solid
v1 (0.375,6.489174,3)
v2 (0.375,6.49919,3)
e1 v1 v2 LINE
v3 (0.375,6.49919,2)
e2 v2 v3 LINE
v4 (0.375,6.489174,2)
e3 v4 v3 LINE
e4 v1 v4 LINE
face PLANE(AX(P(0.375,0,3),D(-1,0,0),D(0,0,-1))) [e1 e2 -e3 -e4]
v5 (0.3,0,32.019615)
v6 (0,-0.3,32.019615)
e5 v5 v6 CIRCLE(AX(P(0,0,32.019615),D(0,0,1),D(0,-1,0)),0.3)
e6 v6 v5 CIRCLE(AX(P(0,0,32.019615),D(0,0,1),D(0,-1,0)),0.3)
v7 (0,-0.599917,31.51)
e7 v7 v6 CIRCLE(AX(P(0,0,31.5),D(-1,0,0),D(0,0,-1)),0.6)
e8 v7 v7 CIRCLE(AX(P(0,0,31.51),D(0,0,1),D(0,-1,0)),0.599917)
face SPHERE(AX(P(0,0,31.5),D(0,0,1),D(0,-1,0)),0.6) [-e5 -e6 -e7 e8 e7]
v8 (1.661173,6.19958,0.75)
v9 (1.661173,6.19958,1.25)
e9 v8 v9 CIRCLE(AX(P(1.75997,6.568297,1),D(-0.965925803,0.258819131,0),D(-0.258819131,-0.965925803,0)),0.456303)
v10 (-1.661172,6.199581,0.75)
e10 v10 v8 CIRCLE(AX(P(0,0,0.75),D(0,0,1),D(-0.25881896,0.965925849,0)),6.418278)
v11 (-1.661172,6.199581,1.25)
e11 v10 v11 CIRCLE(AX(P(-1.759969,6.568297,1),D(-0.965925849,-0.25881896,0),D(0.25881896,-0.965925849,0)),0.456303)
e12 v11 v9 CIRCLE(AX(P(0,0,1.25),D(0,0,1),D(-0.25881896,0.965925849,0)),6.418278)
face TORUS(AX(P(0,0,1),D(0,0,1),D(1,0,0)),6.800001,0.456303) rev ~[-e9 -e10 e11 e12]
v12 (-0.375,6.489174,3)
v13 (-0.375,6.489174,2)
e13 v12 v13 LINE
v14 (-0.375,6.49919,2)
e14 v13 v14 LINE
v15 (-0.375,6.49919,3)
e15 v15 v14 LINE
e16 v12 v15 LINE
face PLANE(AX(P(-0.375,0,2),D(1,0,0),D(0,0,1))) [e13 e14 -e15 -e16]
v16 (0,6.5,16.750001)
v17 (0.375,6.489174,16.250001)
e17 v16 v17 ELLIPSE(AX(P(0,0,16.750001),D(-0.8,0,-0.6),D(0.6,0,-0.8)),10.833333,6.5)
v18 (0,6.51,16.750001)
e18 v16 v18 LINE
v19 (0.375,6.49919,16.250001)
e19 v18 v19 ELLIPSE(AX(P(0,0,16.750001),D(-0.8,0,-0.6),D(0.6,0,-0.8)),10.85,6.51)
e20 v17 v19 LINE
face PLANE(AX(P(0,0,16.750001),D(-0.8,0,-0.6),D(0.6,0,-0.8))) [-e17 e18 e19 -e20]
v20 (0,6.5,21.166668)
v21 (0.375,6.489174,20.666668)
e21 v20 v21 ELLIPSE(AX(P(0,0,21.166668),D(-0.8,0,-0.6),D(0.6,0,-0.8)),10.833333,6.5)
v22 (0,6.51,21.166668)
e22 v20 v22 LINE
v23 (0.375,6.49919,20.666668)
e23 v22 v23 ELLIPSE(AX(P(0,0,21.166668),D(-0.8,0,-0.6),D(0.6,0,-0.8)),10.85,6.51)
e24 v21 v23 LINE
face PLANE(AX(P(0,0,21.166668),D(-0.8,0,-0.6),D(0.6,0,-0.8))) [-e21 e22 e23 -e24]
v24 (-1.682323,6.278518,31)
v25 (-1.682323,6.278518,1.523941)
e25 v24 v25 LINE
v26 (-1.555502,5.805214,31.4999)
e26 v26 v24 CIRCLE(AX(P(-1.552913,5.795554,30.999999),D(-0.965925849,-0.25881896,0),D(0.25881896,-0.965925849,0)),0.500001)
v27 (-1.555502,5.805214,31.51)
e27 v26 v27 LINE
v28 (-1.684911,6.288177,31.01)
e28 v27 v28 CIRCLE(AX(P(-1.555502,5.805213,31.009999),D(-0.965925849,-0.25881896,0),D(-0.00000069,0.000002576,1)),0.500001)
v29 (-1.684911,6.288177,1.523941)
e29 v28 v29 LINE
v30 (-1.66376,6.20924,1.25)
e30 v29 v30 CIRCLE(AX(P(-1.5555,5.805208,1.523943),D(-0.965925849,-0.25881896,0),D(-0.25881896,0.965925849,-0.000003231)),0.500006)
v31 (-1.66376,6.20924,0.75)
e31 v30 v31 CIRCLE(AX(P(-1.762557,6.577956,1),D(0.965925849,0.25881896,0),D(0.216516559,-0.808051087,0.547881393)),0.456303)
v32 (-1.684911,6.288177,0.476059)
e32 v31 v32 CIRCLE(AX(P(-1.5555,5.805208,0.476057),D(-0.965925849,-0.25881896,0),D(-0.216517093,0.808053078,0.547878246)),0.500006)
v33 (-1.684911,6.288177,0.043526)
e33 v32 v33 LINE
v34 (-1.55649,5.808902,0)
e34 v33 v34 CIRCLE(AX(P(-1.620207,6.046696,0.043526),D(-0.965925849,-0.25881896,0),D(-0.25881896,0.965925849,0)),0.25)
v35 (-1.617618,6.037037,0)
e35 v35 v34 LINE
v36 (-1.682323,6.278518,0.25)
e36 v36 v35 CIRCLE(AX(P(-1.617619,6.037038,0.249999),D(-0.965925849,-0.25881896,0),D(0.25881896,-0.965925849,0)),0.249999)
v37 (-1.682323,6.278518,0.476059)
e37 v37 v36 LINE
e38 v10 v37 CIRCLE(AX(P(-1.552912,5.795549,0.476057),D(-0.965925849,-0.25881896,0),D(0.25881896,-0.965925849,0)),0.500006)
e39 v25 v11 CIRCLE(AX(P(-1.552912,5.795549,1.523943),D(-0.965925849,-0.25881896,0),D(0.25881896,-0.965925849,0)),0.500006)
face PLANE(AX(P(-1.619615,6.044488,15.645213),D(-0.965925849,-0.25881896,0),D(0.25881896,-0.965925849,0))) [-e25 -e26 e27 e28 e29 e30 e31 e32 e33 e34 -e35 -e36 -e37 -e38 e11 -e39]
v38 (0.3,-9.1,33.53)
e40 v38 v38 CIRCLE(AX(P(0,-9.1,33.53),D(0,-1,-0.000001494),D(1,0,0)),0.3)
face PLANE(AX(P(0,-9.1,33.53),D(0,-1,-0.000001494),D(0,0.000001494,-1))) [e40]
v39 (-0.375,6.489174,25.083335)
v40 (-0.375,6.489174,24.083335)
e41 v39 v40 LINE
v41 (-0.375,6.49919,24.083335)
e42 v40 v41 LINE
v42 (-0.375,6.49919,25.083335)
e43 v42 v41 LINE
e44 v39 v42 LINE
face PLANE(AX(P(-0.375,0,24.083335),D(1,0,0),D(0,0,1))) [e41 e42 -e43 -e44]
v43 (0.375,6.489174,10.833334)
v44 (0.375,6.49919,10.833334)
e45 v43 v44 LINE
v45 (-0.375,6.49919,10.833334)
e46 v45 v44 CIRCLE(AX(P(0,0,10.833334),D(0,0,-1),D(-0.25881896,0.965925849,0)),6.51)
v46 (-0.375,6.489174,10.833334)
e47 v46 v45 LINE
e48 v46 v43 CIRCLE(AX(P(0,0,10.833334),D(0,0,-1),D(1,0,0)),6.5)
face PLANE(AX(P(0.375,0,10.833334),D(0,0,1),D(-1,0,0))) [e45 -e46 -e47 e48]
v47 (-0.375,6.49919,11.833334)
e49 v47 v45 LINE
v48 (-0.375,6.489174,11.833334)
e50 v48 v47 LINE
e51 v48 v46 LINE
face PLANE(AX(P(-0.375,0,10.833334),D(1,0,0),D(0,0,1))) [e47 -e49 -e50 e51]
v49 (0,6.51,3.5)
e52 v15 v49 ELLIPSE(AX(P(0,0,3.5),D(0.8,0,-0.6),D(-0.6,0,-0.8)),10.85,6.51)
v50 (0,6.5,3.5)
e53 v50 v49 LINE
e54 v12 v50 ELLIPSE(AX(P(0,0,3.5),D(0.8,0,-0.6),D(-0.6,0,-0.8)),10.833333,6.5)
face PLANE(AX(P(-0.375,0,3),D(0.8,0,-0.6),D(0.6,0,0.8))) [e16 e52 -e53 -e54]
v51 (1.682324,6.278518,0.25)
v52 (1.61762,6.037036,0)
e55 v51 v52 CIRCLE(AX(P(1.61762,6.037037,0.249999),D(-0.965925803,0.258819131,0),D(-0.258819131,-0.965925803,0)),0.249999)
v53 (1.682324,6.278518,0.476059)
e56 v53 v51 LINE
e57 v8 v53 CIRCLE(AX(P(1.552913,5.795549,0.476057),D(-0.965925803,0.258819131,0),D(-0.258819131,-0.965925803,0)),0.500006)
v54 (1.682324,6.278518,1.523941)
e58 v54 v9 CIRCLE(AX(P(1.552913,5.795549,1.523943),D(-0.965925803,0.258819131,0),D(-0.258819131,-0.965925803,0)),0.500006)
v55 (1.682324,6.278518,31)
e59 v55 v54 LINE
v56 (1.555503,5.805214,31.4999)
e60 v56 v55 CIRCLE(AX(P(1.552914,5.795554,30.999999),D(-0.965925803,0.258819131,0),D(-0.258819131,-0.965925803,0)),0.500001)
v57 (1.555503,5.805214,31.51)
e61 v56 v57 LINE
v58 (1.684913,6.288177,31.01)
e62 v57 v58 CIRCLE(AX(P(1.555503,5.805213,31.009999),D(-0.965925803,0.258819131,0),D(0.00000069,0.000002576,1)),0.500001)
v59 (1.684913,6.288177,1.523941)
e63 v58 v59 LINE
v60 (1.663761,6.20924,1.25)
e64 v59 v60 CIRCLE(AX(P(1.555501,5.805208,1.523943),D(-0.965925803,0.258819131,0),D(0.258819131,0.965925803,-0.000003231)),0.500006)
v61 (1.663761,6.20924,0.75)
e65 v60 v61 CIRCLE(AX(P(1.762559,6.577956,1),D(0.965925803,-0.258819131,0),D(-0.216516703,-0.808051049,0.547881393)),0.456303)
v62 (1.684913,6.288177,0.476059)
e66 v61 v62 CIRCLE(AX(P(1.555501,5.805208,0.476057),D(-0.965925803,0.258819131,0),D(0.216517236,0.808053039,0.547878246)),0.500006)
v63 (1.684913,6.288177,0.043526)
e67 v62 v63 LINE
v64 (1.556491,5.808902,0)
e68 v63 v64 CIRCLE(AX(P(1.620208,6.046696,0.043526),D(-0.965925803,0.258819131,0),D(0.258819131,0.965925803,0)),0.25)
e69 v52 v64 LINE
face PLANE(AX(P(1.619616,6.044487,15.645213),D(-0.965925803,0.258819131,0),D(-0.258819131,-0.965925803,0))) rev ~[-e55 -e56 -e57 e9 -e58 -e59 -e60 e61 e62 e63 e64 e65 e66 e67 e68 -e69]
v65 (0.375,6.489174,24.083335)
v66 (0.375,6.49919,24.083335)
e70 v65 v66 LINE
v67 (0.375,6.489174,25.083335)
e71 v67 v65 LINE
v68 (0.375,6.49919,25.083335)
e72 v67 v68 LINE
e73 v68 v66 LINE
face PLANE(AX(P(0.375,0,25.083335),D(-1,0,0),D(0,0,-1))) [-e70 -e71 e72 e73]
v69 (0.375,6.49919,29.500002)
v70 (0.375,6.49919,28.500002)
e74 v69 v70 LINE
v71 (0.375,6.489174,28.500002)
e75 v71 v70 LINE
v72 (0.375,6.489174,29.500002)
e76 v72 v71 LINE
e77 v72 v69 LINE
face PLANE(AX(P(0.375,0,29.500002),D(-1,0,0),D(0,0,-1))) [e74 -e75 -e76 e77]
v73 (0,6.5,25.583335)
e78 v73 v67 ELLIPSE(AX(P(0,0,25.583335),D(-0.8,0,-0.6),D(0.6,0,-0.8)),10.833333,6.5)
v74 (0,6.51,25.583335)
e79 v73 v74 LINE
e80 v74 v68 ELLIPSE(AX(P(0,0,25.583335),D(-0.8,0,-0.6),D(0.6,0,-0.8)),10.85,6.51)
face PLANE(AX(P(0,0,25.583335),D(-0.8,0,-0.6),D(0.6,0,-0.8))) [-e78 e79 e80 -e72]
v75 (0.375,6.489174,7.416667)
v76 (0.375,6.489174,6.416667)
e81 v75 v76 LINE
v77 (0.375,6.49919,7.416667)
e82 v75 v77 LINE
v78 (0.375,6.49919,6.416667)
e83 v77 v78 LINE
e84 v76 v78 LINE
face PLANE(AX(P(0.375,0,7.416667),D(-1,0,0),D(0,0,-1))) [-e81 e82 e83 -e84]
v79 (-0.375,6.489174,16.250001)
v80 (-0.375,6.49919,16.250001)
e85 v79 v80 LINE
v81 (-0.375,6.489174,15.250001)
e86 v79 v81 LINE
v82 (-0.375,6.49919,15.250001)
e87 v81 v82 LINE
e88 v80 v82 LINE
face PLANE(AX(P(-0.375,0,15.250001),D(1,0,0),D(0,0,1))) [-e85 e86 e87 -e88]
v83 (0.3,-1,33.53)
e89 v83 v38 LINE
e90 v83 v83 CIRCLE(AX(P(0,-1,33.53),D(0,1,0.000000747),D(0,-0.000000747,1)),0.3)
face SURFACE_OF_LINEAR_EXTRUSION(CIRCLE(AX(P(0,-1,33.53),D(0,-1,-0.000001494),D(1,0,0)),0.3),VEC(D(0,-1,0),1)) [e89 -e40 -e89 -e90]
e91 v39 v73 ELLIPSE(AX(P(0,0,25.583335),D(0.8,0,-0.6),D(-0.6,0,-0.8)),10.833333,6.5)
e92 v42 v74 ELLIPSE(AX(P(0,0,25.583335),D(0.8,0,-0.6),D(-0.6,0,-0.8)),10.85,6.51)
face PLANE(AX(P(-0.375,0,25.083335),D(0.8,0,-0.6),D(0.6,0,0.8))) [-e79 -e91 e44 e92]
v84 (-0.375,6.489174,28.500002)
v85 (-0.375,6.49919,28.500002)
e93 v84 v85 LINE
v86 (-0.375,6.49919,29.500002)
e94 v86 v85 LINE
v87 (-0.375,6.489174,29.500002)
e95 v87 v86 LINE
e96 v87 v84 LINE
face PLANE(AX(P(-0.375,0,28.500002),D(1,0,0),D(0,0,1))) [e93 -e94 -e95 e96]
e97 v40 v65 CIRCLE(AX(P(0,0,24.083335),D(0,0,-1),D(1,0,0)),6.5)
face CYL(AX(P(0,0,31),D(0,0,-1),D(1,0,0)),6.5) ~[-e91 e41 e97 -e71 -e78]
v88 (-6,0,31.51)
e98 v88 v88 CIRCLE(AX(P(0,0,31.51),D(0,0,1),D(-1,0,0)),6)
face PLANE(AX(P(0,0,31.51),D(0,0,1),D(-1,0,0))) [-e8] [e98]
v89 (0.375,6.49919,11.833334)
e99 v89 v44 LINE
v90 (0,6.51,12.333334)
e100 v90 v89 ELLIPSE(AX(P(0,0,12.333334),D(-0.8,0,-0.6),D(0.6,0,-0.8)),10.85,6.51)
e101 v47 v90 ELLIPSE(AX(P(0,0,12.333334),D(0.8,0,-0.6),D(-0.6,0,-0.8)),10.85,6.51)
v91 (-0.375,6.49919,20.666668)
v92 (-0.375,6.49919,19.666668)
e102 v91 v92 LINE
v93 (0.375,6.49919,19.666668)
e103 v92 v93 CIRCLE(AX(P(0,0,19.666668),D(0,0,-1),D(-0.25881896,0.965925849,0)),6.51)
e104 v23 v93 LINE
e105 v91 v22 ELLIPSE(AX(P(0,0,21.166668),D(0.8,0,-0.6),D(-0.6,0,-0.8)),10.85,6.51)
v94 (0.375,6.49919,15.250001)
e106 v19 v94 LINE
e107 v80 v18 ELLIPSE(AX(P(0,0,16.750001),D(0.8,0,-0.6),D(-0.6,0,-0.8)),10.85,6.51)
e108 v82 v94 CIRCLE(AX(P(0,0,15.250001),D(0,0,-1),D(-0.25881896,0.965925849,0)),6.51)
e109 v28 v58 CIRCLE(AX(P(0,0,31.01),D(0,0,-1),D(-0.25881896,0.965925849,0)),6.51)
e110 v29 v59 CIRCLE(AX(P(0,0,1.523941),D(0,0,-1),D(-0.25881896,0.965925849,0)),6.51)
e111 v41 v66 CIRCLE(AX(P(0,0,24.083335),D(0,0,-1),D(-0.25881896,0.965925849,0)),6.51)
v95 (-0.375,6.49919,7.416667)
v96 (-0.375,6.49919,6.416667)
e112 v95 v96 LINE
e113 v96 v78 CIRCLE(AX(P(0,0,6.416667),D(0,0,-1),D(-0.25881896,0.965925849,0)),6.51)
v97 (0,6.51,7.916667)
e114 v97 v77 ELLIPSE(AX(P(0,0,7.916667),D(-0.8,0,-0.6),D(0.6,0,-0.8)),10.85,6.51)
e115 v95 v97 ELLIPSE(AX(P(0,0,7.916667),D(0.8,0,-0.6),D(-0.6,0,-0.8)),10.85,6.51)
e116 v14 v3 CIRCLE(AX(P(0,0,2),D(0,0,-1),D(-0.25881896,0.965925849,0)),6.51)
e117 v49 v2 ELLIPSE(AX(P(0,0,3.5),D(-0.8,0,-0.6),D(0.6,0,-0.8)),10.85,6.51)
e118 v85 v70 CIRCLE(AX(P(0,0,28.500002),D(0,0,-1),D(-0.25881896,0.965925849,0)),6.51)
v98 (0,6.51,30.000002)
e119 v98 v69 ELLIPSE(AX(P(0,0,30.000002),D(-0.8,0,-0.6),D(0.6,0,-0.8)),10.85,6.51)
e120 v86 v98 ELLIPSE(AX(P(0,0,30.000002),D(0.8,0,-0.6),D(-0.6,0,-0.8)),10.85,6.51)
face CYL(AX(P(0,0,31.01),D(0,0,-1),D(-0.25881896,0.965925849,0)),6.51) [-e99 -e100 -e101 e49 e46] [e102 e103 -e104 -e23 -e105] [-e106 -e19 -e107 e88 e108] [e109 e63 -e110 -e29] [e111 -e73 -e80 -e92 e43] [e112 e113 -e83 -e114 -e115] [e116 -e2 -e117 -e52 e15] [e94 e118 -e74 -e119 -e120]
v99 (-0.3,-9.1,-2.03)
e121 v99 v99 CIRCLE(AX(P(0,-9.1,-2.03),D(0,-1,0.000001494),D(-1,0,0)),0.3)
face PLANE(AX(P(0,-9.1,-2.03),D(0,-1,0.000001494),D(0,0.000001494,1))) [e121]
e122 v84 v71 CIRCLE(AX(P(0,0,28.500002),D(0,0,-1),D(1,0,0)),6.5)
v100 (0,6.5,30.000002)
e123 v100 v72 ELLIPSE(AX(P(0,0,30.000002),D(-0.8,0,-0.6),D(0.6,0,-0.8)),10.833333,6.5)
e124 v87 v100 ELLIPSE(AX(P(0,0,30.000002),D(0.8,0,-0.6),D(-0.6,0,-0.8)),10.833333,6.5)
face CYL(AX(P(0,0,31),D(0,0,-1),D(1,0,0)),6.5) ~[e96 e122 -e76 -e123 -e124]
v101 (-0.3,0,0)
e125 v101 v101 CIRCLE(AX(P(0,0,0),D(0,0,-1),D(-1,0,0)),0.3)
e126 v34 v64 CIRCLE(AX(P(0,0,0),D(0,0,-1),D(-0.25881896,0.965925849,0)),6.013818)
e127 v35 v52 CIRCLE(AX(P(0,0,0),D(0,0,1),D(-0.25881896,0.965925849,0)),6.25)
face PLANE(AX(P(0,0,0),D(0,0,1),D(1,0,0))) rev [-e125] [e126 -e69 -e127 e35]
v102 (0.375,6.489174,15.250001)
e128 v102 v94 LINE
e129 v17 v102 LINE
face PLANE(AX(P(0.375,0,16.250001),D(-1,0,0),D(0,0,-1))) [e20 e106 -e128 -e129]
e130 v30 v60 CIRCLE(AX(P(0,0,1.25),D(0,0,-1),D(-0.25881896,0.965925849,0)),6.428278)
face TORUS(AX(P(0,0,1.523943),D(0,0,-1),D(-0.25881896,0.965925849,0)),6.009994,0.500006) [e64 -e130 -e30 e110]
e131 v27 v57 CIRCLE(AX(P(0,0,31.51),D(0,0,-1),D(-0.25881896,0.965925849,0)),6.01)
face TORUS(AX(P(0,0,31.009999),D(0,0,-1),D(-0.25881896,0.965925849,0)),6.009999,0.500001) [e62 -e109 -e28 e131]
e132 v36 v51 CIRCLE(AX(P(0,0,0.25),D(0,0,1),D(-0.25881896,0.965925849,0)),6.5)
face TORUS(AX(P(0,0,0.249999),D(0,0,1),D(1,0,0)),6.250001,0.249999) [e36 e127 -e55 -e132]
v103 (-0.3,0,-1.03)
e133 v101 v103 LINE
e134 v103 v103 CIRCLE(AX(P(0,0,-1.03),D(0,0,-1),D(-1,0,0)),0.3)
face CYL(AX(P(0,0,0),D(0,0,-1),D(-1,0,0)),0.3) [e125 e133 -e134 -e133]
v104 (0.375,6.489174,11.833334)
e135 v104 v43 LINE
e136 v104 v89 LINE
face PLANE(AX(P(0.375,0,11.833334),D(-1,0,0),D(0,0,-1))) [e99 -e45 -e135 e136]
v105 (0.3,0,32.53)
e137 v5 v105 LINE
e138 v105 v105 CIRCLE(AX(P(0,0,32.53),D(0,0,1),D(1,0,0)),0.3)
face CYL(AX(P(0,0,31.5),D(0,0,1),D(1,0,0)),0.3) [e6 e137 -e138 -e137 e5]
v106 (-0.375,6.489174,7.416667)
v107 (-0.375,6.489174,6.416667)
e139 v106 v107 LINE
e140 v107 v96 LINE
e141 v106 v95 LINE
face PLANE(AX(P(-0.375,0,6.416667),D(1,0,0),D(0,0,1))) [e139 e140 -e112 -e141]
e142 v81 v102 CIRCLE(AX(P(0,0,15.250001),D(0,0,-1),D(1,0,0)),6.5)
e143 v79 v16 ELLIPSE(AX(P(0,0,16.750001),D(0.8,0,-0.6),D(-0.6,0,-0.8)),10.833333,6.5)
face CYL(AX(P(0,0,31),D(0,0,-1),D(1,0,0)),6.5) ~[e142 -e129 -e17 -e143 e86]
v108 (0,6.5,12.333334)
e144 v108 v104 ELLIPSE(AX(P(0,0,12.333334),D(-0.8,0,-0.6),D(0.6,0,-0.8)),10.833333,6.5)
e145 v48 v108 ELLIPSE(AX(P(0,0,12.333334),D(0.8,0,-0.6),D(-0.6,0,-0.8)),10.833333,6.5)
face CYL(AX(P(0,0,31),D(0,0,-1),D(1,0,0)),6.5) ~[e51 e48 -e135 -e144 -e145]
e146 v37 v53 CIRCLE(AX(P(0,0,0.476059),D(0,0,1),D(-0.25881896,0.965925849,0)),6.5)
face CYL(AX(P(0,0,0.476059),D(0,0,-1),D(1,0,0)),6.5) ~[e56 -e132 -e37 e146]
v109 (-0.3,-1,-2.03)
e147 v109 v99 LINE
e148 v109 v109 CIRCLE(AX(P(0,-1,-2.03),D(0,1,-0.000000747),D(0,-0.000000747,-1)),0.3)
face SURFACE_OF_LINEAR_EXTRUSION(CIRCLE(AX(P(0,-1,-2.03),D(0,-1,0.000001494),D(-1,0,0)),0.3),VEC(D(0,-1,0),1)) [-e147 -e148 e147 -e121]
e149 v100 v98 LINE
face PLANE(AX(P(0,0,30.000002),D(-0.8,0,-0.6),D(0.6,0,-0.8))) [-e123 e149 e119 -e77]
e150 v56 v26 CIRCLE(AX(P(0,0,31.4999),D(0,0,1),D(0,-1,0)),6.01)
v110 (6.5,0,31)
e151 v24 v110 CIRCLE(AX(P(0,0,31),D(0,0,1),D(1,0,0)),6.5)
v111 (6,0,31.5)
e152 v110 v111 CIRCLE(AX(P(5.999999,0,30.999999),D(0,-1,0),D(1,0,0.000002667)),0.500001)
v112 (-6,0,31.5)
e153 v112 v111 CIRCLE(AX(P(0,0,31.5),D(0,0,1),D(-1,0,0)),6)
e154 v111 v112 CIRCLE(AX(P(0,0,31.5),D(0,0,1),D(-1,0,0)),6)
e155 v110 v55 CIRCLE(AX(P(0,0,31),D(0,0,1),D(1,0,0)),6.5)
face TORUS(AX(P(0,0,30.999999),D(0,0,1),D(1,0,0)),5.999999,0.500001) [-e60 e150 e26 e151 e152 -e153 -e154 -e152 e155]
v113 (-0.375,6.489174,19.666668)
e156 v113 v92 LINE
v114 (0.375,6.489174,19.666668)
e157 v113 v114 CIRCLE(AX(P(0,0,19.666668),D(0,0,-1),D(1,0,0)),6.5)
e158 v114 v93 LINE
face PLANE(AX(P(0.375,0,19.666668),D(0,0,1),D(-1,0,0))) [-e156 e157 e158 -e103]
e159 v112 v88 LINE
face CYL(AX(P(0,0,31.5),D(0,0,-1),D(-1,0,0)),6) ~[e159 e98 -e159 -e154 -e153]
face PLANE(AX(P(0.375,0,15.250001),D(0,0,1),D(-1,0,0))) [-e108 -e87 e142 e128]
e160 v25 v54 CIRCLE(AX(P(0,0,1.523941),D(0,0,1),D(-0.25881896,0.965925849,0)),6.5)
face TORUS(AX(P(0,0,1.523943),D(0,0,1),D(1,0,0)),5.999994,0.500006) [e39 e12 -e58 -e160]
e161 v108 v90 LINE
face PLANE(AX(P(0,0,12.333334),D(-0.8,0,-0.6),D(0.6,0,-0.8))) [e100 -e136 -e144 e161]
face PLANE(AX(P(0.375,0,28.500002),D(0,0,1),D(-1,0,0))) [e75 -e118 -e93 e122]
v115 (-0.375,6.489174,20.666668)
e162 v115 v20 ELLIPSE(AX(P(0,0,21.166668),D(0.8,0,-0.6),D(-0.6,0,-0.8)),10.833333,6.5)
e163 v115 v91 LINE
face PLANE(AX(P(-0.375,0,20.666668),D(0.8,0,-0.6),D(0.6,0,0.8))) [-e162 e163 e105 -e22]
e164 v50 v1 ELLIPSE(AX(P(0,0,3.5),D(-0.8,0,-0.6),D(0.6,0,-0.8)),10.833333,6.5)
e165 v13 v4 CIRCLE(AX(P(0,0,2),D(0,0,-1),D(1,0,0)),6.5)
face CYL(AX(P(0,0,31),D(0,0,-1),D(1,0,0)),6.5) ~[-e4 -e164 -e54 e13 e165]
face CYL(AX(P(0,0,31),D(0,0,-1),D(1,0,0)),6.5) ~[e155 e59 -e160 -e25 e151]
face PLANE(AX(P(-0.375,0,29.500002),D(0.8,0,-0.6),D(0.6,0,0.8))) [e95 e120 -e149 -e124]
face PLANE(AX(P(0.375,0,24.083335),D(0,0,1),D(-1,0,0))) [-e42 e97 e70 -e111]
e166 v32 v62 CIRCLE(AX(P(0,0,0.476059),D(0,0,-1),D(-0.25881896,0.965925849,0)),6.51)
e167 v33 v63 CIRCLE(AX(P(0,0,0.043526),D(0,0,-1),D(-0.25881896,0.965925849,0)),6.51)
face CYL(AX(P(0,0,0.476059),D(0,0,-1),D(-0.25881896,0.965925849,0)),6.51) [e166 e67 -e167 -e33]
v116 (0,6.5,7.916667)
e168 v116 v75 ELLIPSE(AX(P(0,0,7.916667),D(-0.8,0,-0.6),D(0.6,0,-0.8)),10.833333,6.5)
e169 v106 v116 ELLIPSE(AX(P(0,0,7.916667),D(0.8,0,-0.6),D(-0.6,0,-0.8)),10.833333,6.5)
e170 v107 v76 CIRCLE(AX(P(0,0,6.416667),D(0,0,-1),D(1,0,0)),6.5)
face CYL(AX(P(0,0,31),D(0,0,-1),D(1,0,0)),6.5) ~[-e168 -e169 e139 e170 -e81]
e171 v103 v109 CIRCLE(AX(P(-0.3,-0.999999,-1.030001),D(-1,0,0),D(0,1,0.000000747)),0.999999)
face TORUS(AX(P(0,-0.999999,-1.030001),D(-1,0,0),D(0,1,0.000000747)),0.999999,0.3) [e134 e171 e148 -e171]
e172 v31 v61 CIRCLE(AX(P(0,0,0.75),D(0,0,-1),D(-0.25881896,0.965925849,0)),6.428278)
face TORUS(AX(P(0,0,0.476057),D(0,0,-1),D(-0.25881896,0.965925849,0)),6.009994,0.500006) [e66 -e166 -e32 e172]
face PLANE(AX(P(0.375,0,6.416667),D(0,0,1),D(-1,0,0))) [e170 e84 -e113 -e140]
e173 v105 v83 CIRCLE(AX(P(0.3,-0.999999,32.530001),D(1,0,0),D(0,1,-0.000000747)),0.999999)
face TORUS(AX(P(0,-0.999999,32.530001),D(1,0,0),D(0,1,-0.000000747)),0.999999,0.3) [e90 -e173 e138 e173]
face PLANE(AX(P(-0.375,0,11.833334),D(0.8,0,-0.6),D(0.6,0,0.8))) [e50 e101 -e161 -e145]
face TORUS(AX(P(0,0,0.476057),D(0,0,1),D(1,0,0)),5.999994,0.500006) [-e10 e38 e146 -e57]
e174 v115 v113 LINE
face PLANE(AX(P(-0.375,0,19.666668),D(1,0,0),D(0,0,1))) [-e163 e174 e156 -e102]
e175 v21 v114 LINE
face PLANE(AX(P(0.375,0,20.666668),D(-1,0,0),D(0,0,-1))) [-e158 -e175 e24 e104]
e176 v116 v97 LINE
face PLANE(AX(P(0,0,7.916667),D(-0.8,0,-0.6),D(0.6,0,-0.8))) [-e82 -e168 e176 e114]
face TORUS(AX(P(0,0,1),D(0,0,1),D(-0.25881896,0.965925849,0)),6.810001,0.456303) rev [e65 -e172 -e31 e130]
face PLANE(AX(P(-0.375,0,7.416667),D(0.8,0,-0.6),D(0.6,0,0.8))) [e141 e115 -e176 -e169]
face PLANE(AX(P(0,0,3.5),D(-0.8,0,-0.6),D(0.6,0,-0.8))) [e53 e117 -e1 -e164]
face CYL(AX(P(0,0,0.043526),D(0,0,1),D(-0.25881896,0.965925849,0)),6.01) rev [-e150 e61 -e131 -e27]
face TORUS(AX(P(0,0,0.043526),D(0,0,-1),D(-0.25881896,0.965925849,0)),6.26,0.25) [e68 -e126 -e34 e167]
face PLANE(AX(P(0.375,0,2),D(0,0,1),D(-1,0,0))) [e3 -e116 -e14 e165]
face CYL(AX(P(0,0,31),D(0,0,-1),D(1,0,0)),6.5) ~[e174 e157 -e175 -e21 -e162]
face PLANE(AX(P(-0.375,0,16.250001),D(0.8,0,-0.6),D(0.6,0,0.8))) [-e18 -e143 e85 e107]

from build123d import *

# Parameters (mm, degrees)
SKETCH011_R             = 0.3
BODY007_PLACEMENT_ANGLE = 180
REVOLUTION001_ANGLE     = -30
POCKET_DEPTH            = 6.511
LINEARPATTERN_COUNT     = 7
LINEARPATTERN_PITCH     = 4.416667
SKETCH012_R             = 6
PAD_DEPTH               = 0.01
BODY008_PLACEMENT_ANGLE = 90


with BuildPart() as lead:
    # AdditivePipe: sweep along a path in Sketch010
    with BuildLine(Plane(origin=(0, 0, 0), x_dir=(0, -1, 0), z_dir=(-1, 0, 0))) as additivepipe_path:
        Line((0, 31.5), (0, 32.53))
        ThreePointArc((0, 32.53), (0.292893, 33.237107), (1, 33.53))
        Line((1, 33.53), (9.1, 33.53))
    # Sketch011 → AdditivePipe (sweep)
    with BuildSketch(Plane.XY.offset(31.5)):
        Circle(SKETCH011_R)
    sweep(path=additivepipe_path.line)


with BuildPart() as leadclone:
    # Body007 base: copy of Lead
    add(lead.part)


with BuildPart() as leadclone_1:
    # Body007 placement: moved
    add(leadclone.part.moved(Location((0, 0, 31.5))).rotate(Axis((0, 0, 31.5), (0, 1, 0)), BODY007_PLACEMENT_ANGLE))


with BuildPart() as polaritymarking:
    # Sketch005 → Revolution001 (revolve)
    with BuildSketch(Plane(origin=(0, 0, 0), x_dir=(-0.258819, 0.965926, 0), z_dir=(0.965926, 0.258819, 0))):
        with BuildLine():
            Line((6.01, 0.043526), (6.01, 31.51))
            ThreePointArc((6.01, 31.51), (6.363553, 31.363553), (6.51, 31.01))
            Line((6.51, 31.01), (6.51, 1.523941))
            ThreePointArc((6.51, 1.523941), (6.489134, 1.381006), (6.428278, 1.25))
            ThreePointArc((6.428278, 1.25), (6.353698, 1), (6.428278, 0.75))
            ThreePointArc((6.428278, 0.75), (6.489134, 0.618994), (6.51, 0.476059))
            Line((6.51, 0.476059), (6.51, 0.043526))
            ThreePointArc((6.51, 0.043526), (6.26, -0.206474), (6.01, 0.043526))
        make_face()
    revolve(axis=Axis((0, 0, 0), (0, 0, 1)), revolution_arc=REVOLUTION001_ANGLE)

    # Sketch013 → Pocket (cut, through all)
    with BuildSketch(Plane.XZ):
        Polygon((0.375, 2), (-0.375, 2), (-0.375, 3), (0, 3.5), (0.375, 3), align=None)
    pocket = extrude(amount=-POCKET_DEPTH, mode=Mode.SUBTRACT)

    # LinearPattern: Pocket ×7
    with Locations(*[(0, 0, i * LINEARPATTERN_PITCH) for i in range(1, LINEARPATTERN_COUNT)]):
        add(pocket, mode=Mode.SUBTRACT)


with BuildPart() as housing:
    # Sketch → Revolution (revolve)
    with BuildSketch(Plane.XZ):
        with BuildLine():
            Line((0, 31.5), (6, 31.5))
            ThreePointArc((6.5, 31), (6.353553, 31.353553), (6, 31.5))
            Line((6.5, 31), (6.5, 1.523941))
            ThreePointArc((6.418278, 1.25), (6.479134, 1.381006), (6.5, 1.523941))
            ThreePointArc((6.418278, 1.25), (6.343698, 1), (6.418278, 0.75))
            ThreePointArc((6.5, 0.476059), (6.479134, 0.618994), (6.418278, 0.75))
            Line((6.5, 0.476059), (6.5, 0.25))
            ThreePointArc((6.25, 0), (6.426777, 0.073223), (6.5, 0.25))
            Line((0, 0), (6.25, 0))
            Line((0, 31.5), (0, 0))
        make_face()
    revolve(axis=Axis((0, 0, 0), (0, 0, 1)))


with BuildPart() as fusion:
    # Sphere → Sphere (revolve)
    with BuildSketch(Plane.XZ):
        with BuildLine():
            ThreePointArc((0, -0.6), (0.6, 0), (0, 0.6))
            Line((0, 0.6), (0, -0.6))
        make_face()
    revolve(axis=Axis((0, 0, 0), (0, 0, 1)))

    # Sketch012 (on ShapeBinder) → Pad (new body)
    with BuildSketch(Plane(origin=(0, 0, 0), x_dir=(0, -1, 0), z_dir=(0, 0, 1))):
        Circle(SKETCH012_R)
    extrude(amount=PAD_DEPTH)


with BuildPart() as fusion_1:
    # Body008 placement: moved
    add(fusion.part.moved(Location((0, 0, 31.5))).rotate(Axis((0, 0, 31.5), (0, 0, -1)), BODY008_PLACEMENT_ANGLE))

    # Fusion: union LeadClone, Lead, PolarityMarking, Housing
    add(leadclone_1.part)
    add(lead.part)
    add(polaritymarking.part)
    add(housing.part)


solid = fusion_1.part
